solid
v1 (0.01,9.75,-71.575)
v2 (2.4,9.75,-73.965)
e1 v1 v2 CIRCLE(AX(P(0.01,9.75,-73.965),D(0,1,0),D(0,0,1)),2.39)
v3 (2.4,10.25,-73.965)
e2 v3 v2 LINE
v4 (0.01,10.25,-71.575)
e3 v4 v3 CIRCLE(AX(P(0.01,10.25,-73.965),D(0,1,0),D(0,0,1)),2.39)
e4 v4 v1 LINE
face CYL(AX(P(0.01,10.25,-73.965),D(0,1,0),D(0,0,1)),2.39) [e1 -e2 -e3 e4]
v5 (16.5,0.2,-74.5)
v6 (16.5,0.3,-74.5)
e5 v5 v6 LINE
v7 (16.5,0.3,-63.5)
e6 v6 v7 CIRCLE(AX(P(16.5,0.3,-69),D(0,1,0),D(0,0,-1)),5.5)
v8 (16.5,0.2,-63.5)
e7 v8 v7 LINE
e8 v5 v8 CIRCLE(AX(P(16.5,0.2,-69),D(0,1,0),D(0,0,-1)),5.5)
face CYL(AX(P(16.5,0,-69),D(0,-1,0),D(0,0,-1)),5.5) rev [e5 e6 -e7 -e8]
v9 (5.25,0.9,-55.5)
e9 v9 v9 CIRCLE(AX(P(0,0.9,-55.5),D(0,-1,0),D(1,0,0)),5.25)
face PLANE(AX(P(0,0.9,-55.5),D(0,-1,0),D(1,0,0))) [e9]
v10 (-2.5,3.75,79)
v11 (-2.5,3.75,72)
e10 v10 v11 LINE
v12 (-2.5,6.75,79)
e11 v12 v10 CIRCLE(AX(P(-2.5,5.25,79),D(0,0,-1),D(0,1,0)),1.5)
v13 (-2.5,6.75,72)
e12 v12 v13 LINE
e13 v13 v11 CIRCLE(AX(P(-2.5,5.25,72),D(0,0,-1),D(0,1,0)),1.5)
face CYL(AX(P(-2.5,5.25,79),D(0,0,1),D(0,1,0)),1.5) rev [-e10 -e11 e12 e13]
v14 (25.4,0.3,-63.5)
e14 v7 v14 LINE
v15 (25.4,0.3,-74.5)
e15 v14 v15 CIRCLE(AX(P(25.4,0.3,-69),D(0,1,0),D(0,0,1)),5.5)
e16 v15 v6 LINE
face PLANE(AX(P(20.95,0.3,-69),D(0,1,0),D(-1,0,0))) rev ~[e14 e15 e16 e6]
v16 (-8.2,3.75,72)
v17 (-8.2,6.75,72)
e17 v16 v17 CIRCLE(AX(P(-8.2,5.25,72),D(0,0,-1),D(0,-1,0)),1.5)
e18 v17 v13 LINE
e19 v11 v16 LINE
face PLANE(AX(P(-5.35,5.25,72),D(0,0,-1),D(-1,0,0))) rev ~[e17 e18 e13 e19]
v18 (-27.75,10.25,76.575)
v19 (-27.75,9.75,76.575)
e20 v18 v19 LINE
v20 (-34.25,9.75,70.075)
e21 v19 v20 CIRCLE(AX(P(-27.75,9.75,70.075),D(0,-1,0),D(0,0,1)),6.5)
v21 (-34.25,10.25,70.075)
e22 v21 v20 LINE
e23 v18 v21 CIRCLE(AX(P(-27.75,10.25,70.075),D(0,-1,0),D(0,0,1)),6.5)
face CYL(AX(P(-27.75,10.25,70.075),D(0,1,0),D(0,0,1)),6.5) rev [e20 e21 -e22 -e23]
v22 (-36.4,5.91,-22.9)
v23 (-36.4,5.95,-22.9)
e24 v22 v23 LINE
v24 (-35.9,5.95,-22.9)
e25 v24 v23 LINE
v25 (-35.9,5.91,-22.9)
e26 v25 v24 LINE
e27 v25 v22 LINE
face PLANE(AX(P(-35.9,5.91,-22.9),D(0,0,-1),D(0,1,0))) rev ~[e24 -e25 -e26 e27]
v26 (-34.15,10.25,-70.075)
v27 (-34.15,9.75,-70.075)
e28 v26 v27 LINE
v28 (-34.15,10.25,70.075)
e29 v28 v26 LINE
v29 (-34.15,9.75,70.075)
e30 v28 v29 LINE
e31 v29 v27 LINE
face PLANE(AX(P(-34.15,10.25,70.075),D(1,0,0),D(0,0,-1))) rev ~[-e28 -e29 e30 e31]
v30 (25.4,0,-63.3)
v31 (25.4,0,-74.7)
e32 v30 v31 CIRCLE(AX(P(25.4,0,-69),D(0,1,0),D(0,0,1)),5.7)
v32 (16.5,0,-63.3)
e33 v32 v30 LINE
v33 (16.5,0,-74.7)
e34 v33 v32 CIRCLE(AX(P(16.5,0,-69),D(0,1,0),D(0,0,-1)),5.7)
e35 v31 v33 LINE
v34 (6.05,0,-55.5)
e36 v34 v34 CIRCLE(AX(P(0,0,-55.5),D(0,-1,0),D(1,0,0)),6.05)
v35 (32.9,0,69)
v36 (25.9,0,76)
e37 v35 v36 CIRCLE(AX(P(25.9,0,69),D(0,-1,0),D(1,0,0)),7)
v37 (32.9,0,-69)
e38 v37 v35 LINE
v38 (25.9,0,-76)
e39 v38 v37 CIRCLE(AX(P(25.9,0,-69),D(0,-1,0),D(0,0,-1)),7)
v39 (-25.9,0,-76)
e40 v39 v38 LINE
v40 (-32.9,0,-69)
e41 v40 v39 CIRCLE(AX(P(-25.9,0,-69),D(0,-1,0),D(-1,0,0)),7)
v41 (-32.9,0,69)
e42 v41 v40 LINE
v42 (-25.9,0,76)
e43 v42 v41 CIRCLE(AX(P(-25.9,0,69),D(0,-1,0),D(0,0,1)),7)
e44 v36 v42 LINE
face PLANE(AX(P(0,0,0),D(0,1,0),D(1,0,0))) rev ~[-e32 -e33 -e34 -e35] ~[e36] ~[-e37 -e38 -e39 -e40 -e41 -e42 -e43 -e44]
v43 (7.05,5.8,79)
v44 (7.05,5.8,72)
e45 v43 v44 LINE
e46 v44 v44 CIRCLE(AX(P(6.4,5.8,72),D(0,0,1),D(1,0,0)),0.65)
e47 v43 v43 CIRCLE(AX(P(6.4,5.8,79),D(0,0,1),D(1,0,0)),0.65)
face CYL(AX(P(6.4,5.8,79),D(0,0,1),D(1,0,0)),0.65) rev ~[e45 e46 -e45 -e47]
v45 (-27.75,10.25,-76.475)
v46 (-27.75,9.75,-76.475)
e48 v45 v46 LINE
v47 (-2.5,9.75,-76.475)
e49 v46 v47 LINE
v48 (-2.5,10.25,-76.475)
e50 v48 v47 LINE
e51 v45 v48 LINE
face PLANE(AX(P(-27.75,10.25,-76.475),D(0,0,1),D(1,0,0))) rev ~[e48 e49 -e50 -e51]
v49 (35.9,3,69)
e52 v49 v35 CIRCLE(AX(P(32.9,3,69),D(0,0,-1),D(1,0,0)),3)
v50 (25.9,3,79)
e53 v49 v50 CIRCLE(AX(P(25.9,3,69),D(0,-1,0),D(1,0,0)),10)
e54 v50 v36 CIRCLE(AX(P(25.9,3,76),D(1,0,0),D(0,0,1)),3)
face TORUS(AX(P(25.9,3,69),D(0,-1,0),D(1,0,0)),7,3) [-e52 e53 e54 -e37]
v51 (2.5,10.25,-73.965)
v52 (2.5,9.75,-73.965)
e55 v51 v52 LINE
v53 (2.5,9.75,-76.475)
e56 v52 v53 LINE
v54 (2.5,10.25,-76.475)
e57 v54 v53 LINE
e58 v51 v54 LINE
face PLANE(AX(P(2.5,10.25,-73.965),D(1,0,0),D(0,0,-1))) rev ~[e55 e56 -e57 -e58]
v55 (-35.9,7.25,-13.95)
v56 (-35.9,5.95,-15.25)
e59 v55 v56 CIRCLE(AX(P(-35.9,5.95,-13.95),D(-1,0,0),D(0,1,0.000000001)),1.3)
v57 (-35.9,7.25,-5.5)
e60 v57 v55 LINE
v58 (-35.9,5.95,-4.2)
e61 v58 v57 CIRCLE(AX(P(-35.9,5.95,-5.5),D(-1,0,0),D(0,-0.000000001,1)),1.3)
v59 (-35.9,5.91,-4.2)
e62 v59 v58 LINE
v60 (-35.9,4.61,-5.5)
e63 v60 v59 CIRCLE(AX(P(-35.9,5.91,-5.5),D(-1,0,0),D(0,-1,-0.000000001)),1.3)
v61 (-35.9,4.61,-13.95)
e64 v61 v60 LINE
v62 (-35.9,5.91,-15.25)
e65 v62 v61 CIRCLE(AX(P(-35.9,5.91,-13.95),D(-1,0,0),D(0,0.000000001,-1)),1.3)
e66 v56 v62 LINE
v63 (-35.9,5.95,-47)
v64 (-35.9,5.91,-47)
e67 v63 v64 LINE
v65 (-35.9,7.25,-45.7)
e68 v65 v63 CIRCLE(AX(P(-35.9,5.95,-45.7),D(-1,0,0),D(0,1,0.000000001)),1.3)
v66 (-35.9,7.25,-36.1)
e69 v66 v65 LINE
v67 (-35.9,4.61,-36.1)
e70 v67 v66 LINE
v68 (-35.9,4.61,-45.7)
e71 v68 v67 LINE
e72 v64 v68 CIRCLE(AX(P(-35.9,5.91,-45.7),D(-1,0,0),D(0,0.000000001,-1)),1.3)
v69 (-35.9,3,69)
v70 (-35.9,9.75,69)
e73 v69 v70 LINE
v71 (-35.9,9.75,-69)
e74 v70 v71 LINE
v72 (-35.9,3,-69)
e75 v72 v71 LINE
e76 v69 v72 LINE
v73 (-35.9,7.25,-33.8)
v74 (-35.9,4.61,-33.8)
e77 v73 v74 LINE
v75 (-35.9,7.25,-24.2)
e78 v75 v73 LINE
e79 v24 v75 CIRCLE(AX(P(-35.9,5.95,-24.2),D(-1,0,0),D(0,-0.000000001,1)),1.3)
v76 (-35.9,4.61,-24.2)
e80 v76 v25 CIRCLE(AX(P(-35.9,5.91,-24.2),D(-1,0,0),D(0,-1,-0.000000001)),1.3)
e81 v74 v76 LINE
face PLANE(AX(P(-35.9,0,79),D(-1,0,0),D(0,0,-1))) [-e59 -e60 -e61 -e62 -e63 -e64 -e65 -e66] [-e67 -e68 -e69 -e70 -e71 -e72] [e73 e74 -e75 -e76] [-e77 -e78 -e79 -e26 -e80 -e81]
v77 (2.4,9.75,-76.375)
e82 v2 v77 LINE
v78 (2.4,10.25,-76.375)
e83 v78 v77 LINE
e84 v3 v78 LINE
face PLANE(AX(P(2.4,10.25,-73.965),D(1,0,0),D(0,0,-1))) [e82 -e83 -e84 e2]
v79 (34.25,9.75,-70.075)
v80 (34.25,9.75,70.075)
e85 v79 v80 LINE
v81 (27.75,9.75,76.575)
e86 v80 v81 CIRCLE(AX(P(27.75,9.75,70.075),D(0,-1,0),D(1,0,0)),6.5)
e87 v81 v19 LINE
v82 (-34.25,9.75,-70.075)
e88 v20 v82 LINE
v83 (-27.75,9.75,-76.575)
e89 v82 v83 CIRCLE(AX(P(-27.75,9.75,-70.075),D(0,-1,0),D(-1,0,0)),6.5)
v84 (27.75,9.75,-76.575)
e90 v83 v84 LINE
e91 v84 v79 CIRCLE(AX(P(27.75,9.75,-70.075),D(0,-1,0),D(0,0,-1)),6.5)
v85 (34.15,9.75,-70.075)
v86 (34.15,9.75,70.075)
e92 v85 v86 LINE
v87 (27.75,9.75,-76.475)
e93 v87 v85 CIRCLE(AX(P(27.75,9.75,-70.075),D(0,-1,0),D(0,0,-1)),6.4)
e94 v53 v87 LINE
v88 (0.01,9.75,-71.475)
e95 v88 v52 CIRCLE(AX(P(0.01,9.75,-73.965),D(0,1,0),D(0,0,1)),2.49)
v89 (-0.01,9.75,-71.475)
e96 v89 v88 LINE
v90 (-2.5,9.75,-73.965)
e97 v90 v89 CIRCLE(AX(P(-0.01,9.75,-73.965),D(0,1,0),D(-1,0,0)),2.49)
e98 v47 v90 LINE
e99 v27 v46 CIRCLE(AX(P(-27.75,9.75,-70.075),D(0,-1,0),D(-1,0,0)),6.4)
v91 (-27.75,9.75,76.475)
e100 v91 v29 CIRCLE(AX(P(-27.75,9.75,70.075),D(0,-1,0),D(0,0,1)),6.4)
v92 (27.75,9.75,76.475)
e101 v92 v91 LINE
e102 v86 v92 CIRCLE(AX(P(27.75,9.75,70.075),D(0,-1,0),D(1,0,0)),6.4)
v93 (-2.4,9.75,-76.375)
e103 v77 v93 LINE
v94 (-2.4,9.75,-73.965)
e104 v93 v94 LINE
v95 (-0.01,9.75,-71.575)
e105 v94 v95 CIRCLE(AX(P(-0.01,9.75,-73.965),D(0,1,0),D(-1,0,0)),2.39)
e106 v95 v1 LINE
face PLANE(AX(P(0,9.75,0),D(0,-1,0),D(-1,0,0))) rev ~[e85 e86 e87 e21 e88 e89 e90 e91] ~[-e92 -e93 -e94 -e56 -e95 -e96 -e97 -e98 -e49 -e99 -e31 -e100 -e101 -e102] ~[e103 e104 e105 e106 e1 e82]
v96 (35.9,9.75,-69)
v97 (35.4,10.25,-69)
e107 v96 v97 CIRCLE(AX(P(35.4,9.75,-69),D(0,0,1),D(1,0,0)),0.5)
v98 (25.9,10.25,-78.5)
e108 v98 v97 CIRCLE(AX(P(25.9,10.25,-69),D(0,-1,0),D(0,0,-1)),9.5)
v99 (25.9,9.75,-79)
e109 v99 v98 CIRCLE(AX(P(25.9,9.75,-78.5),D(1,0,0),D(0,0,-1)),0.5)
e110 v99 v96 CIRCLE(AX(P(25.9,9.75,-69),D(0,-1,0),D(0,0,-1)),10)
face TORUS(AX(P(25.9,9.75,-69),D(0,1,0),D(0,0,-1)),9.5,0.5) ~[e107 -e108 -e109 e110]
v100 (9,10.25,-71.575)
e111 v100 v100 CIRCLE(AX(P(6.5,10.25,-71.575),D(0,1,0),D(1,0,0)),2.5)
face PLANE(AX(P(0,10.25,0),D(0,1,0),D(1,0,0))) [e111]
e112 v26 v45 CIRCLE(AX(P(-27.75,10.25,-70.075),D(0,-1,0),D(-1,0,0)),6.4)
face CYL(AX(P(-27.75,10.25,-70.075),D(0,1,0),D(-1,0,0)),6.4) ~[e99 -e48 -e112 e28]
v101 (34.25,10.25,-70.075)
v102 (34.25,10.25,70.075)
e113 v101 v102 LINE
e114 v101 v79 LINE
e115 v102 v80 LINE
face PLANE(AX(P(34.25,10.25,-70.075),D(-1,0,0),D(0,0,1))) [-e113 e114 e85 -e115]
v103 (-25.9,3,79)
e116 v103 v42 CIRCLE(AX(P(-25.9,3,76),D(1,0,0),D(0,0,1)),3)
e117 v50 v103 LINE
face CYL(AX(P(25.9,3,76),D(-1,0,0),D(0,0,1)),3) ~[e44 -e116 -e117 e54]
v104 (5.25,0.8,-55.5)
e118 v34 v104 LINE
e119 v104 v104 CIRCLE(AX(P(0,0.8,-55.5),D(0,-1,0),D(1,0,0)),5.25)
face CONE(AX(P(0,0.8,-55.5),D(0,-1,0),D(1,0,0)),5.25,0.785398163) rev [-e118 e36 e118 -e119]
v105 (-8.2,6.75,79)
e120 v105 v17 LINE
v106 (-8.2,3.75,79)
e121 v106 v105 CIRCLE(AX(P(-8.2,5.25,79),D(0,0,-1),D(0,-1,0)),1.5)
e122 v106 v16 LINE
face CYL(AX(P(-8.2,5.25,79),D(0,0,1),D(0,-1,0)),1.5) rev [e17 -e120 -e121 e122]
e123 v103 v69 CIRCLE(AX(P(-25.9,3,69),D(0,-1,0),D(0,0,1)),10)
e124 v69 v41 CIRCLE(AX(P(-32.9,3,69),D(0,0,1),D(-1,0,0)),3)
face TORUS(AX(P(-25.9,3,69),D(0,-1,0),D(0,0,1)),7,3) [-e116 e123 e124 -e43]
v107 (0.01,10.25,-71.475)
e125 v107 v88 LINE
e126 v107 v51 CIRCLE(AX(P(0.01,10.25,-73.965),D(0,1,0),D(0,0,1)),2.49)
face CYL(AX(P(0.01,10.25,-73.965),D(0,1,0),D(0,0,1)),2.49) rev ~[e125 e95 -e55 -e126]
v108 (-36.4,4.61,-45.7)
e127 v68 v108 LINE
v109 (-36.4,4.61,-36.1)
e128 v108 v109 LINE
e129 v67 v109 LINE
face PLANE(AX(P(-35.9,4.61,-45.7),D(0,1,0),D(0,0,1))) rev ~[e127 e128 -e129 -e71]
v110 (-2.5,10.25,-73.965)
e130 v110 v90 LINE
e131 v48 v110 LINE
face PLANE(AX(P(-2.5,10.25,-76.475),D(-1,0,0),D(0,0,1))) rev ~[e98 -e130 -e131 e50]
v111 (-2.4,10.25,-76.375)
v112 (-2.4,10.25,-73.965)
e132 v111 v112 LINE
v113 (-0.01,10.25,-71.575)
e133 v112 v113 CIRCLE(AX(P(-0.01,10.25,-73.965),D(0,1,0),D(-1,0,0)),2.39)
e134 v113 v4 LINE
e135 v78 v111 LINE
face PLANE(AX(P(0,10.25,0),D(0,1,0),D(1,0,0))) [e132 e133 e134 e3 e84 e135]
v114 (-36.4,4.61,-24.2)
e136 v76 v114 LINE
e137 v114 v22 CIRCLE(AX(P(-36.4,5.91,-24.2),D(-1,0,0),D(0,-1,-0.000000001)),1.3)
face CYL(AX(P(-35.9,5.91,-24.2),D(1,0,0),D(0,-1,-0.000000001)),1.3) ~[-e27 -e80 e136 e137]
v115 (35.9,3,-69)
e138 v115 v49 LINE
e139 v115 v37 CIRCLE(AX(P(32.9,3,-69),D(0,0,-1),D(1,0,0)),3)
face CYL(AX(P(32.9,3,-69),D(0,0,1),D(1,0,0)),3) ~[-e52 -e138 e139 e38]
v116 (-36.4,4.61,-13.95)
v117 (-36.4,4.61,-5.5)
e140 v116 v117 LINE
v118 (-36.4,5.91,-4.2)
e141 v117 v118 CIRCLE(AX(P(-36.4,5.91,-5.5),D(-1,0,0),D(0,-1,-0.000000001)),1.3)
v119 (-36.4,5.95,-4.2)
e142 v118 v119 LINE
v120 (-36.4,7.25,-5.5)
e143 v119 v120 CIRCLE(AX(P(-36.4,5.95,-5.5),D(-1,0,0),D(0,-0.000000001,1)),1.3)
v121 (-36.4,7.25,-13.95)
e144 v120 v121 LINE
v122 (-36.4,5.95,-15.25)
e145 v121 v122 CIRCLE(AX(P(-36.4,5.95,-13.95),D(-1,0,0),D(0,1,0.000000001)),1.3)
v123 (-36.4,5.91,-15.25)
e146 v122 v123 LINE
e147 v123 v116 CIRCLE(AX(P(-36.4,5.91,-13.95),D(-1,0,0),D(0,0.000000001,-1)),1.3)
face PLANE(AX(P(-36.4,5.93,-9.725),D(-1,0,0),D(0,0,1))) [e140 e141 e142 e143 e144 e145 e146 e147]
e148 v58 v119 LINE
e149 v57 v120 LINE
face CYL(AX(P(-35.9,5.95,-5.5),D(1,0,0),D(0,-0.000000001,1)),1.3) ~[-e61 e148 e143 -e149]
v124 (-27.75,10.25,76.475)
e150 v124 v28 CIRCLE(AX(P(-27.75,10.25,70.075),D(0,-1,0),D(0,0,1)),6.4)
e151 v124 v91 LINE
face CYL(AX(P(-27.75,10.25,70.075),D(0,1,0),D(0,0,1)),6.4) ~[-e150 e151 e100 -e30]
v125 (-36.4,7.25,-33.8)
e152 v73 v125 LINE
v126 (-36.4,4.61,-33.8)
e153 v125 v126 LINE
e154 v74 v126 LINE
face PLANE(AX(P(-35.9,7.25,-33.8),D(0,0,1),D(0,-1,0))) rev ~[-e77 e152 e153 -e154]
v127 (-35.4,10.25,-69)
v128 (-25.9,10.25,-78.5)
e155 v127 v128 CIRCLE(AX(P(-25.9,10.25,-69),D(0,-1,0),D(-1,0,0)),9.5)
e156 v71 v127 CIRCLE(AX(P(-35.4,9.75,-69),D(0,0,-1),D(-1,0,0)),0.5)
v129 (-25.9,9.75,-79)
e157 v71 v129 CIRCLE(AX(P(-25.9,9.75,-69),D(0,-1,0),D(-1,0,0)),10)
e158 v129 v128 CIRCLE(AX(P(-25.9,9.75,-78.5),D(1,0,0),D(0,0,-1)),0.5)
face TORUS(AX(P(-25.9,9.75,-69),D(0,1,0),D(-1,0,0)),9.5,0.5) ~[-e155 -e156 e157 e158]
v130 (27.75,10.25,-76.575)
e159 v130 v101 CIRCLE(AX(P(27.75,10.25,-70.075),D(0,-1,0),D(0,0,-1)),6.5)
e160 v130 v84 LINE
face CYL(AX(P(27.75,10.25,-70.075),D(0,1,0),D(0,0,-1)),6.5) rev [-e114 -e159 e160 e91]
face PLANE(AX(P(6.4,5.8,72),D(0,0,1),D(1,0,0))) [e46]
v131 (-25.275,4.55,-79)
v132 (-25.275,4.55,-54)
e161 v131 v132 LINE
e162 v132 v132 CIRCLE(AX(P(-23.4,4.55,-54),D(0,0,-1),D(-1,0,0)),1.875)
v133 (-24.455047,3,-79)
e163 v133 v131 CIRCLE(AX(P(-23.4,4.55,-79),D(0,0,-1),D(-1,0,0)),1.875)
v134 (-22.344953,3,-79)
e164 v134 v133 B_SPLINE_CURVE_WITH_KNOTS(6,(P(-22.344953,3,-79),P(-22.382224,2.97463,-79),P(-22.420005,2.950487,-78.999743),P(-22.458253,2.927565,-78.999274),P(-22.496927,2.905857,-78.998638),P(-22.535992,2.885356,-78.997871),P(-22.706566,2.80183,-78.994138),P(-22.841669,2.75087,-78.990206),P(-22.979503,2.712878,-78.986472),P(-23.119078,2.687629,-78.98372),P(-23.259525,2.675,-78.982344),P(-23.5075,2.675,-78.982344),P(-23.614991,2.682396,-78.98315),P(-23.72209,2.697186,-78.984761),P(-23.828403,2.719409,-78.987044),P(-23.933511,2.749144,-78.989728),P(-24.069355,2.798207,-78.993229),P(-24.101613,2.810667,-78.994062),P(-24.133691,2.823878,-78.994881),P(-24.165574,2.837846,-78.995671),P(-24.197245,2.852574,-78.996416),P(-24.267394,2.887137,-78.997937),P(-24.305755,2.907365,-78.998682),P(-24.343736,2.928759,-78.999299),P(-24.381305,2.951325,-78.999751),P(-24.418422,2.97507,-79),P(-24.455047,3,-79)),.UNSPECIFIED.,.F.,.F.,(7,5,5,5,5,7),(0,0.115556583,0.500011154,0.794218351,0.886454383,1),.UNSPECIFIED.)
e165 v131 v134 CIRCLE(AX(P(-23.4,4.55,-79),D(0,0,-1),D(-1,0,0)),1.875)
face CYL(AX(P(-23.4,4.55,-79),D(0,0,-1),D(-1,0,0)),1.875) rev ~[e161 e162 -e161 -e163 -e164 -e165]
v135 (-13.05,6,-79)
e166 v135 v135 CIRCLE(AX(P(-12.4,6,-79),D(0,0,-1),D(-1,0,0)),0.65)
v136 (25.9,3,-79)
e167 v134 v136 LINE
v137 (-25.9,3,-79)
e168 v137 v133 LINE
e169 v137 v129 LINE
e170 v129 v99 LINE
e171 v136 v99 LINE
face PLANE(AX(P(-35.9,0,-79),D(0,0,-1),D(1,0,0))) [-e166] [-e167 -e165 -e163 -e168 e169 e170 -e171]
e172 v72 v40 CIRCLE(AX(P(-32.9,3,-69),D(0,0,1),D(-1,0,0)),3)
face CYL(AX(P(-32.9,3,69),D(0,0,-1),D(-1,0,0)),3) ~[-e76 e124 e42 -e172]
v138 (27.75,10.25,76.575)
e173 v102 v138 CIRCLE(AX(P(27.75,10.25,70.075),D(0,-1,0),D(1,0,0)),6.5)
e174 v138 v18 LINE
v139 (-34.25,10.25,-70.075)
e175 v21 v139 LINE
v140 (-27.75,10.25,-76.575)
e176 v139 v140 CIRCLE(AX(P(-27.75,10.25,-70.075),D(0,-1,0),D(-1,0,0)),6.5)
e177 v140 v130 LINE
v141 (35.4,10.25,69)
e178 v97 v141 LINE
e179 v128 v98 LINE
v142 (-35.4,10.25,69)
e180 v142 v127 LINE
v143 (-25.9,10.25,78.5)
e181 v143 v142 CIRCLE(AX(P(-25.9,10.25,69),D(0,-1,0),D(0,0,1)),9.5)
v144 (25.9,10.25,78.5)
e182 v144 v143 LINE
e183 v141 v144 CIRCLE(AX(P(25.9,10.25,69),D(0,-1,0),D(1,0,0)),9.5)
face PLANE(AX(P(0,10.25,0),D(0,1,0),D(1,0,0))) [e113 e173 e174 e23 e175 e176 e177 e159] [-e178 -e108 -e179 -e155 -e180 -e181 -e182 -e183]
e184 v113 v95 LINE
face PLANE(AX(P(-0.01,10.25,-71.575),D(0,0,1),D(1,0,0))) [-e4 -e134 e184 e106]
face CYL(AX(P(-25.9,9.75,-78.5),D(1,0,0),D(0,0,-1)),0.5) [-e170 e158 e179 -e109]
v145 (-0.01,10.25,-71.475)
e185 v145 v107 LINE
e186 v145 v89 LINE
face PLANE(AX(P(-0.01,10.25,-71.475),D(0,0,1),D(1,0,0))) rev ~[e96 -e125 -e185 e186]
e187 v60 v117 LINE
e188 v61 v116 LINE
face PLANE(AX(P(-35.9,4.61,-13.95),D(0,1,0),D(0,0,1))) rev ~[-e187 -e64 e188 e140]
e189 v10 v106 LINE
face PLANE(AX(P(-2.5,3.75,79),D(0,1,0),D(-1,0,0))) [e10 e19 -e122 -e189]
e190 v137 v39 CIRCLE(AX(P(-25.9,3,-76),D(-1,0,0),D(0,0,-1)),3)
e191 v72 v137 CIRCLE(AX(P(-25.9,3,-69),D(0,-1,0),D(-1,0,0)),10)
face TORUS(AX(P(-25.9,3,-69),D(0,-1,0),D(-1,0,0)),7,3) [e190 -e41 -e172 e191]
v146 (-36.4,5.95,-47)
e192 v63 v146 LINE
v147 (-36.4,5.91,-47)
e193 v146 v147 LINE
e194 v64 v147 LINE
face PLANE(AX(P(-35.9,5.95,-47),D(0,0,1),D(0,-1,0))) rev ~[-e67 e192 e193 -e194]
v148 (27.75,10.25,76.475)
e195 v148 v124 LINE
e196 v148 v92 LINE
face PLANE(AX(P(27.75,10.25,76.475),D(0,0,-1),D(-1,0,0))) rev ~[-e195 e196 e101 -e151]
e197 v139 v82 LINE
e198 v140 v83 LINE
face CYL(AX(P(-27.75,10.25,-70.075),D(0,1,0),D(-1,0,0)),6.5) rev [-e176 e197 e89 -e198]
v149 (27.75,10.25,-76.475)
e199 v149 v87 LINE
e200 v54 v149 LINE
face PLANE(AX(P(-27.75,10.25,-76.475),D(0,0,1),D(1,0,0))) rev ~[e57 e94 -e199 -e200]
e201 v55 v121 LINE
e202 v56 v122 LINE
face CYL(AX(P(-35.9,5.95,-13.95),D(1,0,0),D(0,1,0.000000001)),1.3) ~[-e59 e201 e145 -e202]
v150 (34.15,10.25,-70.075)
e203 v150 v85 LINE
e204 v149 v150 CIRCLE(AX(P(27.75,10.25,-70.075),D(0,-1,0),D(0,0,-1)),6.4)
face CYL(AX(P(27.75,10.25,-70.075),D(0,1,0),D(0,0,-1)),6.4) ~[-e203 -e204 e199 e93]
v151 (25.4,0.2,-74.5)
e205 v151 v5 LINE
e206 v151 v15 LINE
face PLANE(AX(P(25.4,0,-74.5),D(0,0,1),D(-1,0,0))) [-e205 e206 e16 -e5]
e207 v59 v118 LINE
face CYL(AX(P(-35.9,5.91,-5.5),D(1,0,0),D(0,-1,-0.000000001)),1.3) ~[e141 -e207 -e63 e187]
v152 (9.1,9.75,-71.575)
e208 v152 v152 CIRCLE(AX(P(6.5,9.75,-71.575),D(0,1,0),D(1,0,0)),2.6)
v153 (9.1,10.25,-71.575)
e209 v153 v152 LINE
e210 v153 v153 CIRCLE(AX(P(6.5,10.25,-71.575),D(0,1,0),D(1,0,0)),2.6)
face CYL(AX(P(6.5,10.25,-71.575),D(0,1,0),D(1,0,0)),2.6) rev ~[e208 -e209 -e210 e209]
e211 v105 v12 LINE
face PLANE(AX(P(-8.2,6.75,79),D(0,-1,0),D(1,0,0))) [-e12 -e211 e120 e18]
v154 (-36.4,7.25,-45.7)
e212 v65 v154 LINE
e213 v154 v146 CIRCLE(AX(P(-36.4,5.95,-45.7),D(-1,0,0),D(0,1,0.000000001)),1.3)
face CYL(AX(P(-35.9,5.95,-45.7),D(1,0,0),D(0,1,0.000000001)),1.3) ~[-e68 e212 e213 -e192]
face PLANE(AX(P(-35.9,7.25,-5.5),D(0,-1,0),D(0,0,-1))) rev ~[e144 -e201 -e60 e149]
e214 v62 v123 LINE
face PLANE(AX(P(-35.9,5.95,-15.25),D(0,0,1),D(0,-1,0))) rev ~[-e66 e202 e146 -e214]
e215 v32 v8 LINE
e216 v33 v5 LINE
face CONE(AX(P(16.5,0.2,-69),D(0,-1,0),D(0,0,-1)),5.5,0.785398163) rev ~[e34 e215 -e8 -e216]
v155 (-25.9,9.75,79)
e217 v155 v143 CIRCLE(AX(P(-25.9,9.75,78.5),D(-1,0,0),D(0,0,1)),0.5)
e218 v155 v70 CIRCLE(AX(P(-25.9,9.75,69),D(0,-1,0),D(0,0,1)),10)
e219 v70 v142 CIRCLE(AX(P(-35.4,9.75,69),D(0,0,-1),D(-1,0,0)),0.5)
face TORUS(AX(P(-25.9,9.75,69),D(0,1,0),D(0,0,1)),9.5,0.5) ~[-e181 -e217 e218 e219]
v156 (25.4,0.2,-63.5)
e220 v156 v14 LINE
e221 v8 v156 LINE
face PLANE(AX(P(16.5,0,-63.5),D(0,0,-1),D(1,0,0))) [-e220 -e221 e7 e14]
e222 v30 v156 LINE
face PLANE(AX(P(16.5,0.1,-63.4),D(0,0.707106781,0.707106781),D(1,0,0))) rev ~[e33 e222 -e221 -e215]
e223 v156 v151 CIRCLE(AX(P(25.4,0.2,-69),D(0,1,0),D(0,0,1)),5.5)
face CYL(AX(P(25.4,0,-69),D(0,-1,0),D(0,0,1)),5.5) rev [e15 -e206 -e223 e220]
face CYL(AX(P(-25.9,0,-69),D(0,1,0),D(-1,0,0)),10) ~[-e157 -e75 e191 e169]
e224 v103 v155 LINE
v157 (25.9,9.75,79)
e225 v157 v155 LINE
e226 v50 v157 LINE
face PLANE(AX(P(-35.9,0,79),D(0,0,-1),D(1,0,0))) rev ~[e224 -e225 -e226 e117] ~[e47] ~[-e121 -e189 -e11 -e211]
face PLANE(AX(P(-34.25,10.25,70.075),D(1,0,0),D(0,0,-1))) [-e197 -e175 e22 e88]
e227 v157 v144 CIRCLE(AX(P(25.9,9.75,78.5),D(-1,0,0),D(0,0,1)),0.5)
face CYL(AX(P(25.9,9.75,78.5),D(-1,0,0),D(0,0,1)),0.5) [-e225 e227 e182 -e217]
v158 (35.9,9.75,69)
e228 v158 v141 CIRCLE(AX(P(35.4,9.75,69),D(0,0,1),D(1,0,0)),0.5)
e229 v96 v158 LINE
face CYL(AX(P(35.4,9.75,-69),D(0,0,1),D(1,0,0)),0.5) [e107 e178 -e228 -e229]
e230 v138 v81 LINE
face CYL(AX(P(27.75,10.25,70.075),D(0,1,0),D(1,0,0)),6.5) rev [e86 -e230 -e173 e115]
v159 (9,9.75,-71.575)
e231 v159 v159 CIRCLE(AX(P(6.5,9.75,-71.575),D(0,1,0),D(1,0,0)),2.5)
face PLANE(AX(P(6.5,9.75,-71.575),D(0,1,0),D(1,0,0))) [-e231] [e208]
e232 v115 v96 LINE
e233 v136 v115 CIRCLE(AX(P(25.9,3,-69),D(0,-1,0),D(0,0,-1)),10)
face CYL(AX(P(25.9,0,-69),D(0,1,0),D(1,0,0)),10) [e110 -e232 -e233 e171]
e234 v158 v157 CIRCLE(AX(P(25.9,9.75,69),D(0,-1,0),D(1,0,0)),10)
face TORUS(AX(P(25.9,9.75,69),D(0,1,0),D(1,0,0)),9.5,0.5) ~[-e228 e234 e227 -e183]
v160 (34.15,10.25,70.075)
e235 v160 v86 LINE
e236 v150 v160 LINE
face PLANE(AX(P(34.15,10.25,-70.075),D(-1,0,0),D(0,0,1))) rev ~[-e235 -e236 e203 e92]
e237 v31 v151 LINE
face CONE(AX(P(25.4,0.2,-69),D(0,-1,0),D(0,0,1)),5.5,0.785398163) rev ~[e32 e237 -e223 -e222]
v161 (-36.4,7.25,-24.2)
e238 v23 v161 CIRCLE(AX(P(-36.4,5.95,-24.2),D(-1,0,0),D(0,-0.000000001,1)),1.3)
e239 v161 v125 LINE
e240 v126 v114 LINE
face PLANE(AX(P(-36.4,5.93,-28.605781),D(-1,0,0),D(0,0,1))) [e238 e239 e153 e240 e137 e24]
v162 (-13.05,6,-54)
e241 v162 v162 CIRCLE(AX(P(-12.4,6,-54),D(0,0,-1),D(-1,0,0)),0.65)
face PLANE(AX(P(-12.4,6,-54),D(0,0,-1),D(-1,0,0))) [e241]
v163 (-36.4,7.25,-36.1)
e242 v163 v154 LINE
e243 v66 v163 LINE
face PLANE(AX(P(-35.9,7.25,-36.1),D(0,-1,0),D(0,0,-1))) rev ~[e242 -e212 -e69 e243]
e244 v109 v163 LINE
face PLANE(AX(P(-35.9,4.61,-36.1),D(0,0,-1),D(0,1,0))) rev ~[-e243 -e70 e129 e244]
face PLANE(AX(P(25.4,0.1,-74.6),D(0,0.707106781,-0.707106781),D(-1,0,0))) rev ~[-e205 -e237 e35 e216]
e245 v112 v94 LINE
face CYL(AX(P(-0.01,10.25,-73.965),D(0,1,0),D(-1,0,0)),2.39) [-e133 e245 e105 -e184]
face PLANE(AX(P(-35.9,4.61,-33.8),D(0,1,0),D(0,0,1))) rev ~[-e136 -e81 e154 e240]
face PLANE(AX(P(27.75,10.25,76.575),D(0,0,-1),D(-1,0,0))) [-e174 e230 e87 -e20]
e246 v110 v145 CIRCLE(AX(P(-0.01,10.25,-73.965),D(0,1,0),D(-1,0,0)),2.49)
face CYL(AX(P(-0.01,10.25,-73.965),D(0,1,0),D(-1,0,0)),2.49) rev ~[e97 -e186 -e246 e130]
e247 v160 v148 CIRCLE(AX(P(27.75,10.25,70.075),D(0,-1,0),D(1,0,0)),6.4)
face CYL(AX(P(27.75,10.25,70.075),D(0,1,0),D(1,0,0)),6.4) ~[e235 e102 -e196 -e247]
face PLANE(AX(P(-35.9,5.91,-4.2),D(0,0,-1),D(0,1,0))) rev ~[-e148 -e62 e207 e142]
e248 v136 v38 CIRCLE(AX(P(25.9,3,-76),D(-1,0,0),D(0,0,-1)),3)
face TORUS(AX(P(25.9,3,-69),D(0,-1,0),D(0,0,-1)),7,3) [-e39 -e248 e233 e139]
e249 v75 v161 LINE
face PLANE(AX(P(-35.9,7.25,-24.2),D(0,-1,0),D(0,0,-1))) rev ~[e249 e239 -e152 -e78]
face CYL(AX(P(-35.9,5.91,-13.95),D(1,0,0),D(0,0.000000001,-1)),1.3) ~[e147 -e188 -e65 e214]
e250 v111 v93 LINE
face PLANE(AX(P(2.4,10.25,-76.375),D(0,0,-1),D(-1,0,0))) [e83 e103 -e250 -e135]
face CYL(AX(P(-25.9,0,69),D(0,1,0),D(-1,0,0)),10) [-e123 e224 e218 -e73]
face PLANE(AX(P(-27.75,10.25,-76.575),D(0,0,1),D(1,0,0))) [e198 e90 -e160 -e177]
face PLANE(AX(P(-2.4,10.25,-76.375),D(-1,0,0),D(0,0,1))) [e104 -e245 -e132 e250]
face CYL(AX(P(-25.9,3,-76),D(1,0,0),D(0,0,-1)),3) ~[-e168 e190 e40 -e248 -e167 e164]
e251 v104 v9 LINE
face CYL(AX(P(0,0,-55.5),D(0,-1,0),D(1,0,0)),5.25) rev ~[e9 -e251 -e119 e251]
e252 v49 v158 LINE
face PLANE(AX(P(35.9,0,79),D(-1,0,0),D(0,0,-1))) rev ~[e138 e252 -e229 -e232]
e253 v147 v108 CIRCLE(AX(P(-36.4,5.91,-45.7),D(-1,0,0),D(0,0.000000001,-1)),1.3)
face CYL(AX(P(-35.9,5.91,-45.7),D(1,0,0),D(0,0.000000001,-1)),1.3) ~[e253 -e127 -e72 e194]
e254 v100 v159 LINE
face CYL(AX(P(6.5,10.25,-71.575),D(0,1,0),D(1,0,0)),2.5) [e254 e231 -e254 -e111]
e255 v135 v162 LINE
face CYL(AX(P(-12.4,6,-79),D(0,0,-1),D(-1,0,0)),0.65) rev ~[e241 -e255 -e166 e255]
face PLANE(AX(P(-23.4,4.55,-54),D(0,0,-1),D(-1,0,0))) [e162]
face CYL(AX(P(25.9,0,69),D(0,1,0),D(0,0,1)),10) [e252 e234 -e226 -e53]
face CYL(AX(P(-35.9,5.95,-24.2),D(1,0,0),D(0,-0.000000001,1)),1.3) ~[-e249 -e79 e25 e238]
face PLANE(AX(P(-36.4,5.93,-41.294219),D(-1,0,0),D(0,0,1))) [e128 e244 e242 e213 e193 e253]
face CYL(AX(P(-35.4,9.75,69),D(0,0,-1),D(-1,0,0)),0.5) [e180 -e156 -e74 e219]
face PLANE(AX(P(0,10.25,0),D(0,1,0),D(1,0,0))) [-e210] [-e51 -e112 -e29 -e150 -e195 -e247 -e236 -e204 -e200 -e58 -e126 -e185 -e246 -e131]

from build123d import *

# Parameters (mm, degrees)
SKIZZE1_W                            = 71.8
SKIZZE1_H                            = 158
AUFSATZ_LINEAR_AUSTRAGEN1_DEPTH      = 10.25
VERRUNDUNG1_R                        = 10
VERRUNDUNG2_R                        = 3
VERRUNDUNG3_R                        = 0.5
SCHNITT_LINEAR_AUSTRAGEN_D_NN1_DEPTH = 0.5
SCHNITT_LINEAR_AUSTRAGEN_D_NN2_DEPTH = 0.5
SKIZZE4_R                            = 2.6
SKIZZE4_R_2                          = 2.5
SCHNITT_LINEAR_AUSTRAGEN_D_NN3_DEPTH = 0.5
AUFSATZ_LINEAR_AUSTRAGEN2_DEPTH      = 0.5
SKIZZE6_R                            = 1.875
SKIZZE6_R_2                          = 0.65
SCHNITT_LINEAR_AUSTRAGEN1_DEPTH      = 25
SKIZZE7_R                            = 0.65
SCHNITT_LINEAR_AUSTRAGEN2_DEPTH      = 7
SKIZZE8_R                            = 5.25
SCHNITT_LINEAR_AUSTRAGEN3_DEPTH      = 0.9
FASE1_SIZE                           = 0.8
SCHNITT_LINEAR_AUSTRAGEN4_DEPTH      = 0.3
FASE2_SIZE                           = 0.2


with BuildPart() as part:
    # Skizze1 → Aufsatz-Linear austragen1 (new body)
    with BuildSketch(Plane(origin=(0, 0, 0), x_dir=(1, 0, 0), z_dir=(0, 1, 0))):
        Rectangle(SKIZZE1_W, SKIZZE1_H)
    extrude(amount=AUFSATZ_LINEAR_AUSTRAGEN1_DEPTH)

    # Verrundung1
    verrundung1_edges = [part.edges().sort_by_distance(p)[0] for p in [
        (35.9, 5.125, 79),
        (-35.9, 5.125, 79),
        (-35.9, 5.125, -79),
        (35.9, 5.125, -79),
    ]]
    fillet(verrundung1_edges, radius=VERRUNDUNG1_R)

    # Verrundung2
    verrundung2_edges = [part.edges().sort_by_distance(p)[0] for p in [
        (-35.9, 0, 0),
        (35.9, 0, 0),
        (0, 0, 79),
        (0, 0, -79),
        (32.971067812, 0, 76.071067812),
        (-32.971067812, 0, 76.071067812),
        (32.971067812, 0, -76.071067812),
        (-32.971067812, 0, -76.071067812),
    ]]
    fillet(verrundung2_edges, radius=VERRUNDUNG2_R)

    # Verrundung3
    verrundung3_edges = [part.edges().sort_by_distance(p)[0] for p in [
        (-35.9, 10.25, 0),
        (0, 10.25, -79),
        (35.9, 10.25, 0),
        (0, 10.25, 79),
        (32.971067812, 10.25, 76.071067812),
        (-32.971067812, 10.25, 76.071067812),
        (32.971067812, 10.25, -76.071067812),
        (-32.971067812, 10.25, -76.071067812),
    ]]
    fillet(verrundung3_edges, radius=VERRUNDUNG3_R)

    # Skizze2 → Schnitt-Linear-Austragen-Dünn1 (cut)
    with BuildSketch(Plane(origin=(0, 10.25, 0), x_dir=(1, 0, 0), z_dir=(0, 1, 0))):
        with BuildLine():
            Line((-27.75, 76.575), (27.75, 76.575))
            ThreePointArc((27.75, 76.575), (32.346194078, 74.671194078), (34.25, 70.075))
            Line((34.25, 70.075), (34.25, -70.075))
            ThreePointArc((34.25, -70.075), (32.346194078, -74.671194078), (27.75, -76.575))
            Line((27.75, -76.575), (-27.75, -76.575))
            ThreePointArc((-27.75, -76.575), (-32.346194078, -74.671194078), (-34.25, -70.075))
            Line((-34.25, -70.075), (-34.25, 70.075))
            ThreePointArc((-34.25, 70.075), (-32.346194078, 74.671194078), (-27.75, 76.575))
        make_face()
        with BuildLine():
            Line((-27.75, 76.475), (27.75, 76.475))
            ThreePointArc((27.75, 76.475), (32.2754834, 74.6004834), (34.15, 70.075))
            Line((34.15, 70.075), (34.15, -70.075))
            ThreePointArc((34.15, -70.075), (32.2754834, -74.6004834), (27.75, -76.475))
            Line((27.75, -76.475), (-27.75, -76.475))
            ThreePointArc((-27.75, -76.475), (-32.2754834, -74.6004834), (-34.15, -70.075))
            Line((-34.15, -70.075), (-34.15, 70.075))
            ThreePointArc((-34.15, 70.075), (-32.2754834, 74.6004834), (-27.75, 76.475))
        make_face(mode=Mode.SUBTRACT)
    extrude(amount=-SCHNITT_LINEAR_AUSTRAGEN_D_NN1_DEPTH, mode=Mode.SUBTRACT)

    # Skizze3 → Schnitt-Linear-Austragen-Dünn2 (cut)
    with BuildSketch(Plane(origin=(0, 10.25, 0), x_dir=(1, 0, 0), z_dir=(0, 1, 0))):
        with BuildLine():
            Line((-0.01, 71.475), (0.01, 71.475))
            ThreePointArc((0.01, 71.475), (1.770695885, 72.204304115), (2.5, 73.965))
            Line((2.5, 73.965), (2.5, 76.475))
            Line((2.5, 76.475), (-2.5, 76.475))
            Line((-2.5, 76.475), (-2.5, 73.965))
            ThreePointArc((-2.5, 73.965), (-1.770695885, 72.204304115), (-0.01, 71.475))
        make_face()
        with BuildLine():
            Line((-0.01, 71.575), (0.01, 71.575))
            ThreePointArc((0.01, 71.575), (1.699985207, 72.275014793), (2.4, 73.965))
            Line((2.4, 73.965), (2.4, 76.375))
            Line((2.4, 76.375), (-2.4, 76.375))
            Line((-2.4, 76.375), (-2.4, 73.965))
            ThreePointArc((-2.4, 73.965), (-1.699985207, 72.275014793), (-0.01, 71.575))
        make_face(mode=Mode.SUBTRACT)
    extrude(amount=-SCHNITT_LINEAR_AUSTRAGEN_D_NN2_DEPTH, mode=Mode.SUBTRACT)

    # Skizze4 → Schnitt-Linear-Austragen-Dünn3 (cut)
    with BuildSketch(Plane(origin=(0, 10.25, 0), x_dir=(1, 0, 0), z_dir=(0, 1, 0))):
        with Locations((6.5, 71.575)):
            Circle(SKIZZE4_R)
        with Locations((6.5, 71.575)):
            Circle(SKIZZE4_R_2, mode=Mode.SUBTRACT)
    extrude(amount=-SCHNITT_LINEAR_AUSTRAGEN_D_NN3_DEPTH, mode=Mode.SUBTRACT)

    # Skizze5 → Aufsatz-Linear austragen2 (add)
    with BuildSketch(Plane.ZY.offset(35.9)):
        with BuildLine():
            Line((-45.7, 4.61), (-36.1, 4.61))
            Line((-36.1, 4.61), (-36.1, 7.25))
            Line((-36.1, 7.25), (-45.7, 7.25))
            ThreePointArc((-45.7, 7.25), (-46.619238816, 6.869238816), (-47, 5.95))
            Line((-47, 5.95), (-47, 5.91))
            ThreePointArc((-47, 5.91), (-46.619238816, 4.990761184), (-45.7, 4.61))
        make_face()
        with BuildLine():
            Line((-24.2, 7.25), (-33.8, 7.25))
            Line((-33.8, 7.25), (-33.8, 4.61))
            Line((-33.8, 4.61), (-24.2, 4.61))
            ThreePointArc((-24.2, 4.61), (-23.280761184, 4.990761184), (-22.9, 5.91))
            Line((-22.9, 5.91), (-22.9, 5.95))
            ThreePointArc((-22.9, 5.95), (-23.280761184, 6.869238816), (-24.2, 7.25))
        make_face()
        with BuildLine():
            Line((-5.5, 7.25), (-13.95, 7.25))
            ThreePointArc((-13.95, 7.25), (-14.869238816, 6.869238816), (-15.25, 5.95))
            Line((-15.25, 5.95), (-15.25, 5.91))
            ThreePointArc((-15.25, 5.91), (-14.869238816, 4.990761184), (-13.95, 4.61))
            Line((-13.95, 4.61), (-5.5, 4.61))
            ThreePointArc((-5.5, 4.61), (-4.580761184, 4.990761184), (-4.2, 5.91))
            Line((-4.2, 5.91), (-4.2, 5.95))
            ThreePointArc((-4.2, 5.95), (-4.580761184, 6.869238816), (-5.5, 7.25))
        make_face()
    extrude(amount=AUFSATZ_LINEAR_AUSTRAGEN2_DEPTH)

    # Skizze6 → Schnitt-Linear austragen1 (cut)
    with BuildSketch(Plane(origin=(0, 0, -79), x_dir=(-1, 0, 0), z_dir=(0, 0, -1))):
        with Locations((23.4, 4.55)):
            Circle(SKIZZE6_R)
        with Locations((12.4, 6)):
            Circle(SKIZZE6_R_2)
    extrude(amount=-SCHNITT_LINEAR_AUSTRAGEN1_DEPTH, mode=Mode.SUBTRACT)

    # Skizze7 → Schnitt-Linear austragen2 (cut)
    with BuildSketch(Plane.XY.offset(79)):
        with Locations((6.4, 5.8)):
            Circle(SKIZZE7_R)
        with BuildLine():
            Line((-8.2, 6.75), (-2.5, 6.75))
            ThreePointArc((-2.5, 6.75), (-1, 5.25), (-2.5, 3.75))
            Line((-2.5, 3.75), (-8.2, 3.75))
            ThreePointArc((-8.2, 3.75), (-9.7, 5.25), (-8.2, 6.75))
        make_face()
    extrude(amount=-SCHNITT_LINEAR_AUSTRAGEN2_DEPTH, mode=Mode.SUBTRACT)

    # Skizze8 → Schnitt-Linear austragen3 (cut)
    with BuildSketch(Plane.XZ):
        with Locations((0, -55.5)):
            Circle(SKIZZE8_R)
    extrude(amount=-SCHNITT_LINEAR_AUSTRAGEN3_DEPTH, mode=Mode.SUBTRACT)

    # Fase1
    fase1_edges = [part.edges().sort_by_distance(p)[0] for p in [
        (-5.25, 0, -55.5),
    ]]
    chamfer(fase1_edges, length=FASE1_SIZE)

    # Skizze9 → Schnitt-Linear austragen4 (cut)
    with BuildSketch(Plane.XZ):
        with BuildLine():
            Line((25.4, -74.5), (16.5, -74.5))
            ThreePointArc((16.5, -74.5), (11, -69), (16.5, -63.5))
            Line((16.5, -63.5), (25.4, -63.5))
            ThreePointArc((25.4, -63.5), (30.9, -69), (25.4, -74.5))
        make_face()
    extrude(amount=-SCHNITT_LINEAR_AUSTRAGEN4_DEPTH, mode=Mode.SUBTRACT)

    # Fase2
    fase2_edges = [part.edges().sort_by_distance(p)[0] for p in [
        (30.9, 0, -69),
        (20.95, 0, -63.5),
        (11, 0, -69),
        (20.95, 0, -74.5),
    ]]
    chamfer(fase2_edges, length=FASE2_SIZE)


solid = part.part
